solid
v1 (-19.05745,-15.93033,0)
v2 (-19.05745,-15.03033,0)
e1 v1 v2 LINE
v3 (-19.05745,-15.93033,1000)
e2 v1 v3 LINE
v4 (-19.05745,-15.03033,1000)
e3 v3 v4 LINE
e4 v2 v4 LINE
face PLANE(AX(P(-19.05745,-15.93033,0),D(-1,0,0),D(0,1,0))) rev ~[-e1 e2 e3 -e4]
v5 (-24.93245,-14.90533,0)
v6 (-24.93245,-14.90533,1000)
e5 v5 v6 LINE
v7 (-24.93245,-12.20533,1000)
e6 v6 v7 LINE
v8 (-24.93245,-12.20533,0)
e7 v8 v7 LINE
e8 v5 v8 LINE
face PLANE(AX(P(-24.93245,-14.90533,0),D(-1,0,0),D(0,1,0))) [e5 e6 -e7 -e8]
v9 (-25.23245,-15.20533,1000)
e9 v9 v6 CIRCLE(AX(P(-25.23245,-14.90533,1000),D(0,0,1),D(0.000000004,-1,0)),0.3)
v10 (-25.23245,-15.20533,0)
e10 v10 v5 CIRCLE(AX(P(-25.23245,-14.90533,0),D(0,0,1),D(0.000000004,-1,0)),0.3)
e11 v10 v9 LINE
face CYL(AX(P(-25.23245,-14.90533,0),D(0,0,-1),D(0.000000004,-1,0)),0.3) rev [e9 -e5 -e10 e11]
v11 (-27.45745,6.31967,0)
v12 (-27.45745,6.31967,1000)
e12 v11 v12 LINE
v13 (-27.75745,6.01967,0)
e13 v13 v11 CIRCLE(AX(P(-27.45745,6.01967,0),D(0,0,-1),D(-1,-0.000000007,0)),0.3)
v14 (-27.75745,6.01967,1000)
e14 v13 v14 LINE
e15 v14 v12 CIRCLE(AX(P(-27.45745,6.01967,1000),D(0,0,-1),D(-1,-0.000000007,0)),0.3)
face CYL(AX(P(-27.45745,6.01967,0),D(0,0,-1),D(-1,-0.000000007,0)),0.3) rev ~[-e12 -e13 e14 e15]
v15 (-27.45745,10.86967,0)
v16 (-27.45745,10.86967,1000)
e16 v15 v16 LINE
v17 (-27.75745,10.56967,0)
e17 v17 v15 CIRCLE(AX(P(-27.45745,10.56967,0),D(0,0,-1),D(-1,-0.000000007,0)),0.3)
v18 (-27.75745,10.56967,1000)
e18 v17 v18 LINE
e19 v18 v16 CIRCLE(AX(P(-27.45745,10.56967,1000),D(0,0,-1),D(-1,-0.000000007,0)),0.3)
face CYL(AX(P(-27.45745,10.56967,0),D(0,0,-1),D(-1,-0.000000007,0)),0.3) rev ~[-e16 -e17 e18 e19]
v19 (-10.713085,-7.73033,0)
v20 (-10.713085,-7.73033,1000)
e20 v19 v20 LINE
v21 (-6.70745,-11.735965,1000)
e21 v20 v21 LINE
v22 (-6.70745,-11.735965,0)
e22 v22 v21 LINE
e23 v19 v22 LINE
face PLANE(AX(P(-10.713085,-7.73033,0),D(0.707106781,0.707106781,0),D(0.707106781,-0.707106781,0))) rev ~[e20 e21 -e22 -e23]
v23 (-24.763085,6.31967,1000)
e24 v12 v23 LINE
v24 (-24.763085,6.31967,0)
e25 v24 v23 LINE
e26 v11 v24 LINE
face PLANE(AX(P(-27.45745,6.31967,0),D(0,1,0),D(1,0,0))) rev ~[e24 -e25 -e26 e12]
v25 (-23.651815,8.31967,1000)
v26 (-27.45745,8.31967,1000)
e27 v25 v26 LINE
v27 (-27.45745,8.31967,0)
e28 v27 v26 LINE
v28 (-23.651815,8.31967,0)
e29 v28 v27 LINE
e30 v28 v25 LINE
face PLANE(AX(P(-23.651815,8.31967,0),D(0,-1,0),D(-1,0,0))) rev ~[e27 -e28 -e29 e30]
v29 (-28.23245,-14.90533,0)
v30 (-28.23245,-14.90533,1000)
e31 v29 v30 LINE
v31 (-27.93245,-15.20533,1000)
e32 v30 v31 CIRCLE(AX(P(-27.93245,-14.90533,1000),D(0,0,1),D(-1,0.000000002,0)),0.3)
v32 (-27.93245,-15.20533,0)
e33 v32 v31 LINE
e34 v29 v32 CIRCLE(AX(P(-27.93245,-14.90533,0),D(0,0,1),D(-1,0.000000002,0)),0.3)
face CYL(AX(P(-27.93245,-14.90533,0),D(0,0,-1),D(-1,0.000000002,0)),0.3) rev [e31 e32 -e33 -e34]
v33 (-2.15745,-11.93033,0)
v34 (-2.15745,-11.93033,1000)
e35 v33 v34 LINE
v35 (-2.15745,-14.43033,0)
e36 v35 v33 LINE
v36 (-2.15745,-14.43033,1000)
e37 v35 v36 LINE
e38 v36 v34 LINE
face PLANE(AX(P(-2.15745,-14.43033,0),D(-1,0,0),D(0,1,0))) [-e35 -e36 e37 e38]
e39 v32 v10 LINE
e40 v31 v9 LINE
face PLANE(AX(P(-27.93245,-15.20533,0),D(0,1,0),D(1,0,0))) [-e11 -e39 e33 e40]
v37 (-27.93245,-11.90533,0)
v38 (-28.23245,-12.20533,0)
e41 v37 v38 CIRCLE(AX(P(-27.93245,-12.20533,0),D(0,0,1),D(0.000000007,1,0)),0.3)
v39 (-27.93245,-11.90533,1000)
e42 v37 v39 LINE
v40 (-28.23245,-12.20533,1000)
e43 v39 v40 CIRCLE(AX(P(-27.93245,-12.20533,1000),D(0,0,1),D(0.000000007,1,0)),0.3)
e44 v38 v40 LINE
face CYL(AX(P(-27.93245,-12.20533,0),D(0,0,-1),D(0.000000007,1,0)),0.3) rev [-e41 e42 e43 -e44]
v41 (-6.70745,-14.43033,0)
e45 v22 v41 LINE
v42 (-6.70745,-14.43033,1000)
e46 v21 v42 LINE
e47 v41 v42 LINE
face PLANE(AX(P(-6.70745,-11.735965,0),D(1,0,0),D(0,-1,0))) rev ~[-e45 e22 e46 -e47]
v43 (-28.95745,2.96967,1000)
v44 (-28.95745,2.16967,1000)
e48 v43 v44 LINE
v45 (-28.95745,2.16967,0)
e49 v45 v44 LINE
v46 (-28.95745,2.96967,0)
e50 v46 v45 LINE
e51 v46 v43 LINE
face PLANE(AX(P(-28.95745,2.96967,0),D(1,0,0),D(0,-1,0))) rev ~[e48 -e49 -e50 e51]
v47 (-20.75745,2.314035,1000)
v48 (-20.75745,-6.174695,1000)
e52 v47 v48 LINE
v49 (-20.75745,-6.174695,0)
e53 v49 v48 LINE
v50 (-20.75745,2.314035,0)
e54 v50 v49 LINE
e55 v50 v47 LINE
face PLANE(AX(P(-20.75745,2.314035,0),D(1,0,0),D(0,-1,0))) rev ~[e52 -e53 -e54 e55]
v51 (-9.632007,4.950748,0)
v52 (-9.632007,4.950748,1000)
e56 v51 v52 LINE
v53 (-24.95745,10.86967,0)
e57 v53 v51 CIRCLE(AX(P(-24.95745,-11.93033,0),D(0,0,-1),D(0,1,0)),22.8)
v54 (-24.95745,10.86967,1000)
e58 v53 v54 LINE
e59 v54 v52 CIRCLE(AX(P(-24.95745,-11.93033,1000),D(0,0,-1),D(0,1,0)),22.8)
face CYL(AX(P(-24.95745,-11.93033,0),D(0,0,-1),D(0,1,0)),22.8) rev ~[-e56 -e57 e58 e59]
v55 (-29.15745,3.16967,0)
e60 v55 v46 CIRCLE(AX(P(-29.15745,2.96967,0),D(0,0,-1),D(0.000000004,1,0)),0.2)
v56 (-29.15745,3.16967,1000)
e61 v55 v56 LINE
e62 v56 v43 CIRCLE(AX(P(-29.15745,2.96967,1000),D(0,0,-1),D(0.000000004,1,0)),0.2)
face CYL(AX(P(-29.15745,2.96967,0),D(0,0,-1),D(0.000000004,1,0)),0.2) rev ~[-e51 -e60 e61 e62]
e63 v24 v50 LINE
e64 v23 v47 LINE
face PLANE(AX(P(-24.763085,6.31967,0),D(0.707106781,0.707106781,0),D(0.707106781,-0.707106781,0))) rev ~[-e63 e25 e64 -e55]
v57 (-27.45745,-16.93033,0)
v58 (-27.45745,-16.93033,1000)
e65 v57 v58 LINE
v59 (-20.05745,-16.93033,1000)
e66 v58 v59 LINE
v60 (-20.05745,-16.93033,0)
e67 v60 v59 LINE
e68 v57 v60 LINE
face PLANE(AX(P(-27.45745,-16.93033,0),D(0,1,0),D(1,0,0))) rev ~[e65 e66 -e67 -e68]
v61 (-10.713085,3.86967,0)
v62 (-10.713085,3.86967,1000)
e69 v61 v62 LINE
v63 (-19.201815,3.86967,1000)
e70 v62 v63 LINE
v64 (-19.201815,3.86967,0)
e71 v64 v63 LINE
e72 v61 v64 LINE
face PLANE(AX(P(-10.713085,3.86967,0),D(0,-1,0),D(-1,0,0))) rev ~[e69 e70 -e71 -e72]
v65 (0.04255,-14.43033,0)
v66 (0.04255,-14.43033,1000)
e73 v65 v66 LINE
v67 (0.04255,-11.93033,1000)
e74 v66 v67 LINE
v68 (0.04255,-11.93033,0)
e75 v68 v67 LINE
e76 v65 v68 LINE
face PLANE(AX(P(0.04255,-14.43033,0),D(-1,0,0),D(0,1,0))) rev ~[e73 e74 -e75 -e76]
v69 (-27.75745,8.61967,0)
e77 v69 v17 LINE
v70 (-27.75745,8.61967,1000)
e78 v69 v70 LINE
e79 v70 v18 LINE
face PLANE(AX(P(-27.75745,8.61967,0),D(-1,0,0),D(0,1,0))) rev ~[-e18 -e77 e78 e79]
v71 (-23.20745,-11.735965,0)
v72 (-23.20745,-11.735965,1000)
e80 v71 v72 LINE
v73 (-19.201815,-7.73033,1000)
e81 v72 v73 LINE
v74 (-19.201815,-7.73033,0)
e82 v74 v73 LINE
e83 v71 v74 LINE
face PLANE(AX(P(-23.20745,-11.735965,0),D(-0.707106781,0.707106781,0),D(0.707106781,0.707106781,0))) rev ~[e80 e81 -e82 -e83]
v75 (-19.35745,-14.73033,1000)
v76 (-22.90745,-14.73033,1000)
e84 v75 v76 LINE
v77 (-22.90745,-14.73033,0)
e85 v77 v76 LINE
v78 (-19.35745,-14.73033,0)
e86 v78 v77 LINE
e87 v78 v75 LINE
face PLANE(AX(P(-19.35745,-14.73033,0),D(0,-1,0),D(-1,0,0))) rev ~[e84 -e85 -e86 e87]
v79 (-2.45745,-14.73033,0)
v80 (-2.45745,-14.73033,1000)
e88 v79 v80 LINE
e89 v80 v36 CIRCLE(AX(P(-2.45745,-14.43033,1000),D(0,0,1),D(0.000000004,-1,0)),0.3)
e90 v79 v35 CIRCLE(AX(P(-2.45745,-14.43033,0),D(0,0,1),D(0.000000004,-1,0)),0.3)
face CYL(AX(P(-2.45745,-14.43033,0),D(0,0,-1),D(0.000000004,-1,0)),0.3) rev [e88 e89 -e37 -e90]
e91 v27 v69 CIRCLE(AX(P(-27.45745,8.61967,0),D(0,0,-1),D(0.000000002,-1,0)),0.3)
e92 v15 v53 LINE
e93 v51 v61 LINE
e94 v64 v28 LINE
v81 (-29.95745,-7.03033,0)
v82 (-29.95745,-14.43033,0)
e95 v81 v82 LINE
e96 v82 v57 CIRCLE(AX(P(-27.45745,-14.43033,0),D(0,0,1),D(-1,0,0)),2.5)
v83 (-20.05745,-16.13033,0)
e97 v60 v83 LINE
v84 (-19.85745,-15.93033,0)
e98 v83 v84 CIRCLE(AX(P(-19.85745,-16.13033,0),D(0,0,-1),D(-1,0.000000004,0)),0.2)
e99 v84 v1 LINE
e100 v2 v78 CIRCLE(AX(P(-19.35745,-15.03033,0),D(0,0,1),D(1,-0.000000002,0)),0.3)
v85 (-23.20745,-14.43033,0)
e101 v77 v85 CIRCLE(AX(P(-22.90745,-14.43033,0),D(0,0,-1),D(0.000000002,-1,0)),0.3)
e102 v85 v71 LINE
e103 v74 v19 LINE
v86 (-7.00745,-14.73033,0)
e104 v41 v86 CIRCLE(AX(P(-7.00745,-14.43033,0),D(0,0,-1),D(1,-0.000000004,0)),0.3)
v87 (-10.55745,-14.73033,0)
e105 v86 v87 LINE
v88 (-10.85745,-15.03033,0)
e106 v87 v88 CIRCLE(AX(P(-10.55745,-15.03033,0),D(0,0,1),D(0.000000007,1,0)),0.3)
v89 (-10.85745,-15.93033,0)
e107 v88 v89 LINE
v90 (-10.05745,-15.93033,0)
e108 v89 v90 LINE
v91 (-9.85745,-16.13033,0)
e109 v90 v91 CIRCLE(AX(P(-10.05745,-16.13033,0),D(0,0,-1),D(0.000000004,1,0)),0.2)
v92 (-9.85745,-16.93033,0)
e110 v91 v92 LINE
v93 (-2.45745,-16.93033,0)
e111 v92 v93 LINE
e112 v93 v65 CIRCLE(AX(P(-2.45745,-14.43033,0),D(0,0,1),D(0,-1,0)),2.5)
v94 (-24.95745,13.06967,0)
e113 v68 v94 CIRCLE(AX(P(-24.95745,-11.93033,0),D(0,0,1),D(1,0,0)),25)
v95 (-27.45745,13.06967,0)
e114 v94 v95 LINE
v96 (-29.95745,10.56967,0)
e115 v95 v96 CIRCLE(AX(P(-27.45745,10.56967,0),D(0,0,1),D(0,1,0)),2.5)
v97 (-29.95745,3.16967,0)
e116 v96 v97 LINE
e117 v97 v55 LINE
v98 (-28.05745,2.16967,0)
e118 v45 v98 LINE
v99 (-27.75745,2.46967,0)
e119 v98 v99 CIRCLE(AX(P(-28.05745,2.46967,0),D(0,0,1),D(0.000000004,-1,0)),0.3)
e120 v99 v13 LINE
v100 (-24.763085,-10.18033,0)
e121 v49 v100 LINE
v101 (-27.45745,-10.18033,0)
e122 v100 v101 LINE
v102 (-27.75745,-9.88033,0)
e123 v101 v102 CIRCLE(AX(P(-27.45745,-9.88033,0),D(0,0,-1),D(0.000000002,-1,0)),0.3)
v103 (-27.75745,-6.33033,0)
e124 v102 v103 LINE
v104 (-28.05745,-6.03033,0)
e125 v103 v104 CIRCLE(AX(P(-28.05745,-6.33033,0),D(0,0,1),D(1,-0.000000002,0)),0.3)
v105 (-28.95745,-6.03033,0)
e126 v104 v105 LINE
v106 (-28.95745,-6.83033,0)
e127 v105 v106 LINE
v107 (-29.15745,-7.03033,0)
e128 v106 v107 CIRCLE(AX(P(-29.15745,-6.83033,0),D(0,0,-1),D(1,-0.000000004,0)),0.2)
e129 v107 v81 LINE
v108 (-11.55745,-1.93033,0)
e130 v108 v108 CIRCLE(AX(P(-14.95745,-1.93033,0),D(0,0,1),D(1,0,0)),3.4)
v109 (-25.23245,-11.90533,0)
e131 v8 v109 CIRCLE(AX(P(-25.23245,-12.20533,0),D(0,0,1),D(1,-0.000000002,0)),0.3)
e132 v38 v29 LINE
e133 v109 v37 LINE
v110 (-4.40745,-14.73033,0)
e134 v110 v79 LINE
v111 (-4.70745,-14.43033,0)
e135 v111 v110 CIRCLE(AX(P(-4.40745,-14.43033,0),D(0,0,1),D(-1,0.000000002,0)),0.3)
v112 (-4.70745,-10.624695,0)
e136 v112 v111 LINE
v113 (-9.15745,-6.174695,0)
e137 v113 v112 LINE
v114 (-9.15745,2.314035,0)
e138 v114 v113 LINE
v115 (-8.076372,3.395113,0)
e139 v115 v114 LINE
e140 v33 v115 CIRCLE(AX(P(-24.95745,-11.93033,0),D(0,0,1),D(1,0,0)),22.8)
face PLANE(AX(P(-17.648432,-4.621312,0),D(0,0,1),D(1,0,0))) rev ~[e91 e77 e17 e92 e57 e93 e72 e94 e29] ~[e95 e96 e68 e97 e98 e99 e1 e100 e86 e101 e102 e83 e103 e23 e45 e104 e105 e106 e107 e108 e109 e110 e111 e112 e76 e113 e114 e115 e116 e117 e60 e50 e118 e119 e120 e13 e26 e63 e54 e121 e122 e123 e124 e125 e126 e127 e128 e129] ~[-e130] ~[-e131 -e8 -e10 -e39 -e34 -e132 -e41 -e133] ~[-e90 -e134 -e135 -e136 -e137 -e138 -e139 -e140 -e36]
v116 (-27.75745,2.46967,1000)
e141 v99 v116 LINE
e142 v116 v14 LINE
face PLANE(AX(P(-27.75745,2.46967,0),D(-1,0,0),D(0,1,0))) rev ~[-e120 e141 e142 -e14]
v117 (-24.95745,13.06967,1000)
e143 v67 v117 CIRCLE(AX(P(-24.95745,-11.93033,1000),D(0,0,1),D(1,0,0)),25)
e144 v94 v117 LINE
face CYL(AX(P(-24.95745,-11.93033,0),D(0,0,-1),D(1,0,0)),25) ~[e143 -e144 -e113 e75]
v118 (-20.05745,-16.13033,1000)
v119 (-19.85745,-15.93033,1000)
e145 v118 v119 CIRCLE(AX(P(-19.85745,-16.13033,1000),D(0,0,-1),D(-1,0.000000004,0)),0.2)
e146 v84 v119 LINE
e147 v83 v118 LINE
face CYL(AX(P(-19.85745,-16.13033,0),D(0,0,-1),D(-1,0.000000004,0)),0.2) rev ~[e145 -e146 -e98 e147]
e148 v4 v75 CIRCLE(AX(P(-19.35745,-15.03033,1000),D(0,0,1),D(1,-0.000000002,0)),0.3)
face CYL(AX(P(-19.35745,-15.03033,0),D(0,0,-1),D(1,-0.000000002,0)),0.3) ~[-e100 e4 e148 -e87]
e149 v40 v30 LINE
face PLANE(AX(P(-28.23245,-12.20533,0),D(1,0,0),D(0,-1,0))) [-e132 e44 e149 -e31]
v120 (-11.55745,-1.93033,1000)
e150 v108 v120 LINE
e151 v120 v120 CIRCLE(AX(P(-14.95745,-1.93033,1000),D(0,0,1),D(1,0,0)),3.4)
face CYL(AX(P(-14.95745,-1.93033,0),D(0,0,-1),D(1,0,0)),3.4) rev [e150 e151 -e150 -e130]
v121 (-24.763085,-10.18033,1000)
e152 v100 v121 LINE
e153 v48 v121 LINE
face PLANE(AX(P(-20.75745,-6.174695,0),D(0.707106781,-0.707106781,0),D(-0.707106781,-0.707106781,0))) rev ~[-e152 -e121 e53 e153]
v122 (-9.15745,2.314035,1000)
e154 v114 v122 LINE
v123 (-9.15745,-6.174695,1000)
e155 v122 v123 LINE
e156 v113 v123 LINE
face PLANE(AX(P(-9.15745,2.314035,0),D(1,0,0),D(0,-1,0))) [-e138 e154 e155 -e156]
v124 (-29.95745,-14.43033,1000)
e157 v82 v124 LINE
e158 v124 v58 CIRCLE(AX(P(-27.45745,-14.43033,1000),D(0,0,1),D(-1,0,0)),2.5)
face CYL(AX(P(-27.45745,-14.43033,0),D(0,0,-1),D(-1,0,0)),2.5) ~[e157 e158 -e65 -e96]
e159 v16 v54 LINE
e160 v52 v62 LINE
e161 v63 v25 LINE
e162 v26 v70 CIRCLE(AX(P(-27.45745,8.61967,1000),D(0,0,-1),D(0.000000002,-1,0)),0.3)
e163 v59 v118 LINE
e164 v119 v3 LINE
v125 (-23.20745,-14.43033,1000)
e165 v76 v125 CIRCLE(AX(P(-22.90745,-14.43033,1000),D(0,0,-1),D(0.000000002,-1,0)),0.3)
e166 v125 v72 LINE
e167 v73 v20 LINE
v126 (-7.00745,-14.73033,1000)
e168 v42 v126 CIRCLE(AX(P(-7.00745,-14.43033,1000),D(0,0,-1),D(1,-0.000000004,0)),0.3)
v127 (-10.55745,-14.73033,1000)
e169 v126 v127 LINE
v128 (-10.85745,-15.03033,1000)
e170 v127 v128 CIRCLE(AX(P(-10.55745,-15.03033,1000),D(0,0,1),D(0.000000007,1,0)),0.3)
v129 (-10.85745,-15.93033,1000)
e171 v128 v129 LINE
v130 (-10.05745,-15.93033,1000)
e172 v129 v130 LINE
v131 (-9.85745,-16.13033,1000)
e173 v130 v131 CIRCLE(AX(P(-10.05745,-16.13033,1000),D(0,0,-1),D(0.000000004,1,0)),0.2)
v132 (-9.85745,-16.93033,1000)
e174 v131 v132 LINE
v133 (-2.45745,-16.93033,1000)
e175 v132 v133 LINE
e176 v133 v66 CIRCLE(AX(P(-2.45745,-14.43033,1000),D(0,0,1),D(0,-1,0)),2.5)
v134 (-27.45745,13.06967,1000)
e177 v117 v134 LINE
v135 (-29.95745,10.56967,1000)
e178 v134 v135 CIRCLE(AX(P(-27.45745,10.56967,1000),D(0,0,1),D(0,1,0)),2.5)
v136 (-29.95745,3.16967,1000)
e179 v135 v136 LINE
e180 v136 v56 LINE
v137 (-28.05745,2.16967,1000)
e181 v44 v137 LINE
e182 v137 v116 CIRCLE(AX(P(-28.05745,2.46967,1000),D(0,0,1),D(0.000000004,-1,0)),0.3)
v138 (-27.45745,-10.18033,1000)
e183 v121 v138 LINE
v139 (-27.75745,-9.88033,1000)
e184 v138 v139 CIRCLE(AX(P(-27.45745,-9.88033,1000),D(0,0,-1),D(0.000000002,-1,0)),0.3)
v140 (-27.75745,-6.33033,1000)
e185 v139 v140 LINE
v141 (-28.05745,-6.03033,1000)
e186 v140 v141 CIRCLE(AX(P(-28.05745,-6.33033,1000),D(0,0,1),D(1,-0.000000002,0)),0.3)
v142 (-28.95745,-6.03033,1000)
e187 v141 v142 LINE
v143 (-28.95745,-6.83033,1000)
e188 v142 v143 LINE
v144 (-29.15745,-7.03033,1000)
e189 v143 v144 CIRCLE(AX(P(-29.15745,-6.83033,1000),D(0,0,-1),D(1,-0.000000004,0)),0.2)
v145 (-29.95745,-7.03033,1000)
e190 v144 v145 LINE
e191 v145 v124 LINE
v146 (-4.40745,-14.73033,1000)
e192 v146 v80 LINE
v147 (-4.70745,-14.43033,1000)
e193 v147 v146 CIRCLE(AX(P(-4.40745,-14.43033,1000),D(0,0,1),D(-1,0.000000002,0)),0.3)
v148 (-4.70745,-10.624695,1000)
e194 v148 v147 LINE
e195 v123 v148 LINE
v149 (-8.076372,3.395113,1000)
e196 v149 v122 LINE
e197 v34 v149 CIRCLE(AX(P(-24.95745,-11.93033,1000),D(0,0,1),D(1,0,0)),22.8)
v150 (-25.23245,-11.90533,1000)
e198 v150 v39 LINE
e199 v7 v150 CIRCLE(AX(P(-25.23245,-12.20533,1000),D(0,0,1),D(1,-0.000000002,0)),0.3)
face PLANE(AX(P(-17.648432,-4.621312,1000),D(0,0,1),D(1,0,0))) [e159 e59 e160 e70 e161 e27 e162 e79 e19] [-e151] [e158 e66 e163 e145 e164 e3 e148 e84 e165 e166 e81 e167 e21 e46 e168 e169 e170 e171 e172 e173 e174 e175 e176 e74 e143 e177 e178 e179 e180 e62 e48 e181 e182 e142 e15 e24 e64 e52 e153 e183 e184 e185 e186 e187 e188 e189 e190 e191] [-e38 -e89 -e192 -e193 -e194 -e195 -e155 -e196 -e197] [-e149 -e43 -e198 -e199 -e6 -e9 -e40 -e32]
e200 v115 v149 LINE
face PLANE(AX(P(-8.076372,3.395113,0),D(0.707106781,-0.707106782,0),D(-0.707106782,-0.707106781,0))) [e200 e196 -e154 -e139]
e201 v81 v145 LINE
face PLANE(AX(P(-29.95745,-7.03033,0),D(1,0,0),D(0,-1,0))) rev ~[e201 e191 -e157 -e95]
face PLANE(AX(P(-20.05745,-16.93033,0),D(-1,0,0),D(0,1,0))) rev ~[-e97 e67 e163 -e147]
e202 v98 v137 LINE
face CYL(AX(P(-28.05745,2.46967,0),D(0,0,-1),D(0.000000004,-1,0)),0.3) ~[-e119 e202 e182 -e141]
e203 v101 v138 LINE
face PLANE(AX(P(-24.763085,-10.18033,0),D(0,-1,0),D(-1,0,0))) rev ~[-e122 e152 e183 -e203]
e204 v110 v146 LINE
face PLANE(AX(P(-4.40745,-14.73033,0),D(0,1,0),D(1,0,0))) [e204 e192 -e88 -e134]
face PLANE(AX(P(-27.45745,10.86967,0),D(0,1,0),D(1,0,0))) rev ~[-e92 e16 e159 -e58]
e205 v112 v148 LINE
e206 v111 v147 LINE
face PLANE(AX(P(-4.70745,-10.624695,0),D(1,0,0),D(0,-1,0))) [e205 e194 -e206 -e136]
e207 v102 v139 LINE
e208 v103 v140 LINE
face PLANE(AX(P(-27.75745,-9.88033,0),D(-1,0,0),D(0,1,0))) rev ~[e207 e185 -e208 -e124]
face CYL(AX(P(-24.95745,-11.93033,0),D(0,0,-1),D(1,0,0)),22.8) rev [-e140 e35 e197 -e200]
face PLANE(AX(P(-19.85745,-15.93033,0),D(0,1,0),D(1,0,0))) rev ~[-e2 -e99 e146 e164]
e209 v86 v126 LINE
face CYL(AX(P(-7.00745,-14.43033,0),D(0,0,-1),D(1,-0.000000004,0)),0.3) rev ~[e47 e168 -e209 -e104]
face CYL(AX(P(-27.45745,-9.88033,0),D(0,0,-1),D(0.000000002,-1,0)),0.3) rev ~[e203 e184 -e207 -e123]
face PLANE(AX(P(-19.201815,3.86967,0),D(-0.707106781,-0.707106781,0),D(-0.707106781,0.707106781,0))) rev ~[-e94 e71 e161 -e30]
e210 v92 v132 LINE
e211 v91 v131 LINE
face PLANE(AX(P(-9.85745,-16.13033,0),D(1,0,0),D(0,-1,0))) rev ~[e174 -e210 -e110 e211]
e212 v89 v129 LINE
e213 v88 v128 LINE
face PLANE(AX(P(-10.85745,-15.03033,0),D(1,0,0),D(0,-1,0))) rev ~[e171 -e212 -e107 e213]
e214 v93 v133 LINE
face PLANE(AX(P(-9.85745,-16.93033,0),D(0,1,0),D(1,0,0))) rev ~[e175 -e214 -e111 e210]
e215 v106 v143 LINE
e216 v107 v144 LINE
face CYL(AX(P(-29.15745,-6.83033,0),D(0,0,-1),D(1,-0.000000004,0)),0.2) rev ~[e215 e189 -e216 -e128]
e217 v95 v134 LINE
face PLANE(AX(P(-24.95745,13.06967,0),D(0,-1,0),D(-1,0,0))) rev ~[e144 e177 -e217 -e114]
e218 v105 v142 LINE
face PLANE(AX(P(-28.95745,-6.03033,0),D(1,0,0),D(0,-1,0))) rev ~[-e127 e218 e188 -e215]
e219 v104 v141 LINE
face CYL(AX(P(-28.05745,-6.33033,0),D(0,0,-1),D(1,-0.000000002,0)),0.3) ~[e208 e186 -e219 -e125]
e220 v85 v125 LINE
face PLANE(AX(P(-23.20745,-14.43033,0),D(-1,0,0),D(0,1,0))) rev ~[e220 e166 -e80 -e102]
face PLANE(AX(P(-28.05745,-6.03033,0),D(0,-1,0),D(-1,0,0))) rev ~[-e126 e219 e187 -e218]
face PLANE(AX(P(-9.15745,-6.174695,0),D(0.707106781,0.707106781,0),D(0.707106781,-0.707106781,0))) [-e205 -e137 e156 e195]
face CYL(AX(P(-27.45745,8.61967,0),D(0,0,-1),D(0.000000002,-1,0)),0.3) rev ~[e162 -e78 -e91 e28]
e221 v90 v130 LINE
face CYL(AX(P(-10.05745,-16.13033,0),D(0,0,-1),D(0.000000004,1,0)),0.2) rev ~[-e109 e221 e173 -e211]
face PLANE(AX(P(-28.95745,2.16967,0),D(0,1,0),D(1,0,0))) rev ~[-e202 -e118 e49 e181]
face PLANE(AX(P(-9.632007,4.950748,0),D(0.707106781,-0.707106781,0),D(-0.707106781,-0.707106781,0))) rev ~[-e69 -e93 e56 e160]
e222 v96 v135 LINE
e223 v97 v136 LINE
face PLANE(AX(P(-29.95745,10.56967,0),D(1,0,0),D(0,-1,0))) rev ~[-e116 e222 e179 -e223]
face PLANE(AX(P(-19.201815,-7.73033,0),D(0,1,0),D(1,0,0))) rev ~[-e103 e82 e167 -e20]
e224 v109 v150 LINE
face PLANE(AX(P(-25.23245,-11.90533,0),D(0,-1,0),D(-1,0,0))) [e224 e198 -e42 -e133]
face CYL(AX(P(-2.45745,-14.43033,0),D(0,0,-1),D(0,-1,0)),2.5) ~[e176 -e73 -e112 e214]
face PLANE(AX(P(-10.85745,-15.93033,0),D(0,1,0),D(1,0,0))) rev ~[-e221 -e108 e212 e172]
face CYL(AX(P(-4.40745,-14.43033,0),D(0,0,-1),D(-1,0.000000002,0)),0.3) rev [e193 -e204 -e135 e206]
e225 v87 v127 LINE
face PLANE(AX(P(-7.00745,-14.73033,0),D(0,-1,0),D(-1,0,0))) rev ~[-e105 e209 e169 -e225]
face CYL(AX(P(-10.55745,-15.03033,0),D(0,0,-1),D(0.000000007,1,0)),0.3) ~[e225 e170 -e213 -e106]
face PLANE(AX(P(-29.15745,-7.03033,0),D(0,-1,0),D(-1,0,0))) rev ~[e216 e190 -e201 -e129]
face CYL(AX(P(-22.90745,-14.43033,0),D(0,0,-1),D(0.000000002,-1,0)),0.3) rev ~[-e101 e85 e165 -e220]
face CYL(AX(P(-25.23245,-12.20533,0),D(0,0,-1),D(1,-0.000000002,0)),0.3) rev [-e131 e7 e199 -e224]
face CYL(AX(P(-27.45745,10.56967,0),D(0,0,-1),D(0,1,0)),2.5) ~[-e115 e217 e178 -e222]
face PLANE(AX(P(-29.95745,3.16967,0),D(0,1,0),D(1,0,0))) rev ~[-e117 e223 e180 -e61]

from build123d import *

# Parameters (mm, degrees)
SKETCH_1_R      = 3.4
EXTRUDE_1_DEPTH = 1000


with BuildPart() as part:
    # 草图1 → 凸台-拉伸1 (new body)
    with BuildSketch(Plane.XY):
        with BuildLine():
            Line((-29.957449905, -7.030330124), (-29.957449905, -14.430330124))
            ThreePointArc((-29.957449905, -14.430330124), (-29.225216858, -16.198097077), (-27.457449905, -16.930330124))
            Line((-27.457449905, -16.930330124), (-20.057449905, -16.930330124))
            Line((-20.057449905, -16.930330124), (-20.057449905, -16.130330124))
            ThreePointArc((-20.057449905, -16.130330124), (-19.998871261, -15.988908768), (-19.857449905, -15.930330124))
            Line((-19.857449905, -15.930330124), (-19.057449905, -15.930330124))
            Line((-19.057449905, -15.930330124), (-19.057449905, -15.030330124))
            ThreePointArc((-19.057449905, -15.030330124), (-19.145317871, -14.818198089), (-19.357449905, -14.730330124))
            Line((-19.357449905, -14.730330124), (-22.907449905, -14.730330124))
            ThreePointArc((-22.907449905, -14.730330124), (-23.11958194, -14.642462158), (-23.207449905, -14.430330124))
            Line((-23.207449905, -14.430330124), (-23.207449905, -11.735965042))
            Line((-23.207449905, -11.735965042), (-19.201814987, -7.730330124))
            Line((-19.201814987, -7.730330124), (-10.713084824, -7.730330124))
            Line((-10.713084824, -7.730330124), (-6.707449905, -11.735965042))
            Line((-6.707449905, -11.735965042), (-6.707449905, -14.430330124))
            ThreePointArc((-6.707449905, -14.430330124), (-6.795317871, -14.642462158), (-7.007449905, -14.730330124))
            Line((-7.007449905, -14.730330124), (-10.557449905, -14.730330124))
            ThreePointArc((-10.557449905, -14.730330124), (-10.76958194, -14.818198089), (-10.857449905, -15.030330124))
            Line((-10.857449905, -15.030330124), (-10.857449905, -15.930330124))
            Line((-10.857449905, -15.930330124), (-10.057449905, -15.930330124))
            ThreePointArc((-10.057449905, -15.930330124), (-9.916028549, -15.988908768), (-9.857449905, -16.130330124))
            Line((-9.857449905, -16.130330124), (-9.857449905, -16.930330124))
            Line((-9.857449905, -16.930330124), (-2.457449905, -16.930330124))
            ThreePointArc((-2.457449905, -16.930330124), (-0.689682952, -16.198097077), (0.042550095, -14.430330124))
            Line((0.042550095, -14.430330124), (0.042550095, -11.930330124))
            ThreePointArc((0.042550095, -11.930330124), (-7.279780376, 5.747339406), (-24.957449905, 13.069669876))
            Line((-24.957449905, 13.069669876), (-27.457449905, 13.069669876))
            ThreePointArc((-27.457449905, 13.069669876), (-29.225216858, 12.337436829), (-29.957449905, 10.569669876))
            Line((-29.957449905, 10.569669876), (-29.957449905, 3.169669876))
            Line((-29.957449905, 3.169669876), (-29.157449905, 3.169669876))
            ThreePointArc((-29.157449905, 3.169669876), (-29.016028549, 3.111091232), (-28.957449905, 2.969669876))
            Line((-28.957449905, 2.969669876), (-28.957449905, 2.169669876))
            Line((-28.957449905, 2.169669876), (-28.057449905, 2.169669876))
            ThreePointArc((-28.057449905, 2.169669876), (-27.845317871, 2.257537842), (-27.757449905, 2.469669876))
            Line((-27.757449905, 2.469669876), (-27.757449905, 6.019669876))
            ThreePointArc((-27.757449905, 6.019669876), (-27.66958194, 6.231801911), (-27.457449905, 6.319669876))
            Line((-27.457449905, 6.319669876), (-24.763084824, 6.319669876))
            Line((-24.763084824, 6.319669876), (-20.757449905, 2.314034958))
            Line((-20.757449905, 2.314034958), (-20.757449905, -6.174695205))
            Line((-20.757449905, -6.174695205), (-24.763084824, -10.180330124))
            Line((-24.763084824, -10.180330124), (-27.457449905, -10.180330124))
            ThreePointArc((-27.457449905, -10.180330124), (-27.66958194, -10.092462158), (-27.757449905, -9.880330124))
            Line((-27.757449905, -9.880330124), (-27.757449905, -6.330330124))
            ThreePointArc((-27.757449905, -6.330330124), (-27.845317871, -6.118198089), (-28.057449905, -6.030330124))
            Line((-28.057449905, -6.030330124), (-28.957449905, -6.030330124))
            Line((-28.957449905, -6.030330124), (-28.957449905, -6.830330124))
            ThreePointArc((-28.957449905, -6.830330124), (-29.016028549, -6.97175148), (-29.157449905, -7.030330124))
            Line((-29.157449905, -7.030330124), (-29.957449905, -7.030330124))
        make_face()
        with Locations((-14.957449905, -1.930330124)):
            Circle(SKETCH_1_R, mode=Mode.SUBTRACT)
        with BuildLine():
            Line((-9.632006825, 4.950747875), (-10.713084824, 3.869669876))
            Line((-10.713084824, 3.869669876), (-19.201814987, 3.869669876))
            Line((-19.201814987, 3.869669876), (-23.651814987, 8.319669876))
            Line((-23.651814987, 8.319669876), (-27.457449905, 8.319669876))
            ThreePointArc((-27.457449905, 8.319669876), (-27.66958194, 8.407537842), (-27.757449905, 8.619669876))
            Line((-27.757449905, 8.619669876), (-27.757449905, 10.569669876))
            ThreePointArc((-27.757449905, 10.569669876), (-27.66958194, 10.781801911), (-27.457449905, 10.869669876))
            Line((-27.457449905, 10.869669876), (-24.957449905, 10.869669876))
            ThreePointArc((-24.957449905, 10.869669876), (-16.743089868, 9.338527137), (-9.632006825, 4.950747875))
        make_face(mode=Mode.SUBTRACT)
        with BuildLine():
            Line((-27.932449905, -15.205330124), (-25.232449905, -15.205330124))
            ThreePointArc((-25.232449905, -15.205330124), (-25.020317871, -15.117462158), (-24.932449905, -14.905330124))
            Line((-24.932449905, -14.905330124), (-24.932449905, -12.205330124))
            ThreePointArc((-24.932449905, -12.205330124), (-25.020317871, -11.993198089), (-25.232449905, -11.905330124))
            Line((-25.232449905, -11.905330124), (-27.932449905, -11.905330124))
            ThreePointArc((-27.932449905, -11.905330124), (-28.14458194, -11.993198089), (-28.232449905, -12.205330124))
            Line((-28.232449905, -12.205330124), (-28.232449905, -14.905330124))
            ThreePointArc((-28.232449905, -14.905330124), (-28.14458194, -15.117462158), (-27.932449905, -15.205330124))
        make_face(mode=Mode.SUBTRACT)
        with BuildLine():
            Line((-8.076371906, 3.395112956), (-9.157449905, 2.314034958))
            Line((-9.157449905, 2.314034958), (-9.157449905, -6.174695205))
            Line((-9.157449905, -6.174695205), (-4.707449905, -10.624695205))
            Line((-4.707449905, -10.624695205), (-4.707449905, -14.430330124))
            ThreePointArc((-4.707449905, -14.430330124), (-4.61958194, -14.642462158), (-4.407449905, -14.730330124))
            Line((-4.407449905, -14.730330124), (-2.457449905, -14.730330124))
            ThreePointArc((-2.457449905, -14.730330124), (-2.245317871, -14.642462158), (-2.157449905, -14.430330124))
            Line((-2.157449905, -14.430330124), (-2.157449905, -11.930330124))
            ThreePointArc((-2.157449905, -11.930330124), (-3.688592644, -3.715970087), (-8.076371906, 3.395112956))
        make_face(mode=Mode.SUBTRACT)
    extrude(amount=EXTRUDE_1_DEPTH)


solid = part.part
